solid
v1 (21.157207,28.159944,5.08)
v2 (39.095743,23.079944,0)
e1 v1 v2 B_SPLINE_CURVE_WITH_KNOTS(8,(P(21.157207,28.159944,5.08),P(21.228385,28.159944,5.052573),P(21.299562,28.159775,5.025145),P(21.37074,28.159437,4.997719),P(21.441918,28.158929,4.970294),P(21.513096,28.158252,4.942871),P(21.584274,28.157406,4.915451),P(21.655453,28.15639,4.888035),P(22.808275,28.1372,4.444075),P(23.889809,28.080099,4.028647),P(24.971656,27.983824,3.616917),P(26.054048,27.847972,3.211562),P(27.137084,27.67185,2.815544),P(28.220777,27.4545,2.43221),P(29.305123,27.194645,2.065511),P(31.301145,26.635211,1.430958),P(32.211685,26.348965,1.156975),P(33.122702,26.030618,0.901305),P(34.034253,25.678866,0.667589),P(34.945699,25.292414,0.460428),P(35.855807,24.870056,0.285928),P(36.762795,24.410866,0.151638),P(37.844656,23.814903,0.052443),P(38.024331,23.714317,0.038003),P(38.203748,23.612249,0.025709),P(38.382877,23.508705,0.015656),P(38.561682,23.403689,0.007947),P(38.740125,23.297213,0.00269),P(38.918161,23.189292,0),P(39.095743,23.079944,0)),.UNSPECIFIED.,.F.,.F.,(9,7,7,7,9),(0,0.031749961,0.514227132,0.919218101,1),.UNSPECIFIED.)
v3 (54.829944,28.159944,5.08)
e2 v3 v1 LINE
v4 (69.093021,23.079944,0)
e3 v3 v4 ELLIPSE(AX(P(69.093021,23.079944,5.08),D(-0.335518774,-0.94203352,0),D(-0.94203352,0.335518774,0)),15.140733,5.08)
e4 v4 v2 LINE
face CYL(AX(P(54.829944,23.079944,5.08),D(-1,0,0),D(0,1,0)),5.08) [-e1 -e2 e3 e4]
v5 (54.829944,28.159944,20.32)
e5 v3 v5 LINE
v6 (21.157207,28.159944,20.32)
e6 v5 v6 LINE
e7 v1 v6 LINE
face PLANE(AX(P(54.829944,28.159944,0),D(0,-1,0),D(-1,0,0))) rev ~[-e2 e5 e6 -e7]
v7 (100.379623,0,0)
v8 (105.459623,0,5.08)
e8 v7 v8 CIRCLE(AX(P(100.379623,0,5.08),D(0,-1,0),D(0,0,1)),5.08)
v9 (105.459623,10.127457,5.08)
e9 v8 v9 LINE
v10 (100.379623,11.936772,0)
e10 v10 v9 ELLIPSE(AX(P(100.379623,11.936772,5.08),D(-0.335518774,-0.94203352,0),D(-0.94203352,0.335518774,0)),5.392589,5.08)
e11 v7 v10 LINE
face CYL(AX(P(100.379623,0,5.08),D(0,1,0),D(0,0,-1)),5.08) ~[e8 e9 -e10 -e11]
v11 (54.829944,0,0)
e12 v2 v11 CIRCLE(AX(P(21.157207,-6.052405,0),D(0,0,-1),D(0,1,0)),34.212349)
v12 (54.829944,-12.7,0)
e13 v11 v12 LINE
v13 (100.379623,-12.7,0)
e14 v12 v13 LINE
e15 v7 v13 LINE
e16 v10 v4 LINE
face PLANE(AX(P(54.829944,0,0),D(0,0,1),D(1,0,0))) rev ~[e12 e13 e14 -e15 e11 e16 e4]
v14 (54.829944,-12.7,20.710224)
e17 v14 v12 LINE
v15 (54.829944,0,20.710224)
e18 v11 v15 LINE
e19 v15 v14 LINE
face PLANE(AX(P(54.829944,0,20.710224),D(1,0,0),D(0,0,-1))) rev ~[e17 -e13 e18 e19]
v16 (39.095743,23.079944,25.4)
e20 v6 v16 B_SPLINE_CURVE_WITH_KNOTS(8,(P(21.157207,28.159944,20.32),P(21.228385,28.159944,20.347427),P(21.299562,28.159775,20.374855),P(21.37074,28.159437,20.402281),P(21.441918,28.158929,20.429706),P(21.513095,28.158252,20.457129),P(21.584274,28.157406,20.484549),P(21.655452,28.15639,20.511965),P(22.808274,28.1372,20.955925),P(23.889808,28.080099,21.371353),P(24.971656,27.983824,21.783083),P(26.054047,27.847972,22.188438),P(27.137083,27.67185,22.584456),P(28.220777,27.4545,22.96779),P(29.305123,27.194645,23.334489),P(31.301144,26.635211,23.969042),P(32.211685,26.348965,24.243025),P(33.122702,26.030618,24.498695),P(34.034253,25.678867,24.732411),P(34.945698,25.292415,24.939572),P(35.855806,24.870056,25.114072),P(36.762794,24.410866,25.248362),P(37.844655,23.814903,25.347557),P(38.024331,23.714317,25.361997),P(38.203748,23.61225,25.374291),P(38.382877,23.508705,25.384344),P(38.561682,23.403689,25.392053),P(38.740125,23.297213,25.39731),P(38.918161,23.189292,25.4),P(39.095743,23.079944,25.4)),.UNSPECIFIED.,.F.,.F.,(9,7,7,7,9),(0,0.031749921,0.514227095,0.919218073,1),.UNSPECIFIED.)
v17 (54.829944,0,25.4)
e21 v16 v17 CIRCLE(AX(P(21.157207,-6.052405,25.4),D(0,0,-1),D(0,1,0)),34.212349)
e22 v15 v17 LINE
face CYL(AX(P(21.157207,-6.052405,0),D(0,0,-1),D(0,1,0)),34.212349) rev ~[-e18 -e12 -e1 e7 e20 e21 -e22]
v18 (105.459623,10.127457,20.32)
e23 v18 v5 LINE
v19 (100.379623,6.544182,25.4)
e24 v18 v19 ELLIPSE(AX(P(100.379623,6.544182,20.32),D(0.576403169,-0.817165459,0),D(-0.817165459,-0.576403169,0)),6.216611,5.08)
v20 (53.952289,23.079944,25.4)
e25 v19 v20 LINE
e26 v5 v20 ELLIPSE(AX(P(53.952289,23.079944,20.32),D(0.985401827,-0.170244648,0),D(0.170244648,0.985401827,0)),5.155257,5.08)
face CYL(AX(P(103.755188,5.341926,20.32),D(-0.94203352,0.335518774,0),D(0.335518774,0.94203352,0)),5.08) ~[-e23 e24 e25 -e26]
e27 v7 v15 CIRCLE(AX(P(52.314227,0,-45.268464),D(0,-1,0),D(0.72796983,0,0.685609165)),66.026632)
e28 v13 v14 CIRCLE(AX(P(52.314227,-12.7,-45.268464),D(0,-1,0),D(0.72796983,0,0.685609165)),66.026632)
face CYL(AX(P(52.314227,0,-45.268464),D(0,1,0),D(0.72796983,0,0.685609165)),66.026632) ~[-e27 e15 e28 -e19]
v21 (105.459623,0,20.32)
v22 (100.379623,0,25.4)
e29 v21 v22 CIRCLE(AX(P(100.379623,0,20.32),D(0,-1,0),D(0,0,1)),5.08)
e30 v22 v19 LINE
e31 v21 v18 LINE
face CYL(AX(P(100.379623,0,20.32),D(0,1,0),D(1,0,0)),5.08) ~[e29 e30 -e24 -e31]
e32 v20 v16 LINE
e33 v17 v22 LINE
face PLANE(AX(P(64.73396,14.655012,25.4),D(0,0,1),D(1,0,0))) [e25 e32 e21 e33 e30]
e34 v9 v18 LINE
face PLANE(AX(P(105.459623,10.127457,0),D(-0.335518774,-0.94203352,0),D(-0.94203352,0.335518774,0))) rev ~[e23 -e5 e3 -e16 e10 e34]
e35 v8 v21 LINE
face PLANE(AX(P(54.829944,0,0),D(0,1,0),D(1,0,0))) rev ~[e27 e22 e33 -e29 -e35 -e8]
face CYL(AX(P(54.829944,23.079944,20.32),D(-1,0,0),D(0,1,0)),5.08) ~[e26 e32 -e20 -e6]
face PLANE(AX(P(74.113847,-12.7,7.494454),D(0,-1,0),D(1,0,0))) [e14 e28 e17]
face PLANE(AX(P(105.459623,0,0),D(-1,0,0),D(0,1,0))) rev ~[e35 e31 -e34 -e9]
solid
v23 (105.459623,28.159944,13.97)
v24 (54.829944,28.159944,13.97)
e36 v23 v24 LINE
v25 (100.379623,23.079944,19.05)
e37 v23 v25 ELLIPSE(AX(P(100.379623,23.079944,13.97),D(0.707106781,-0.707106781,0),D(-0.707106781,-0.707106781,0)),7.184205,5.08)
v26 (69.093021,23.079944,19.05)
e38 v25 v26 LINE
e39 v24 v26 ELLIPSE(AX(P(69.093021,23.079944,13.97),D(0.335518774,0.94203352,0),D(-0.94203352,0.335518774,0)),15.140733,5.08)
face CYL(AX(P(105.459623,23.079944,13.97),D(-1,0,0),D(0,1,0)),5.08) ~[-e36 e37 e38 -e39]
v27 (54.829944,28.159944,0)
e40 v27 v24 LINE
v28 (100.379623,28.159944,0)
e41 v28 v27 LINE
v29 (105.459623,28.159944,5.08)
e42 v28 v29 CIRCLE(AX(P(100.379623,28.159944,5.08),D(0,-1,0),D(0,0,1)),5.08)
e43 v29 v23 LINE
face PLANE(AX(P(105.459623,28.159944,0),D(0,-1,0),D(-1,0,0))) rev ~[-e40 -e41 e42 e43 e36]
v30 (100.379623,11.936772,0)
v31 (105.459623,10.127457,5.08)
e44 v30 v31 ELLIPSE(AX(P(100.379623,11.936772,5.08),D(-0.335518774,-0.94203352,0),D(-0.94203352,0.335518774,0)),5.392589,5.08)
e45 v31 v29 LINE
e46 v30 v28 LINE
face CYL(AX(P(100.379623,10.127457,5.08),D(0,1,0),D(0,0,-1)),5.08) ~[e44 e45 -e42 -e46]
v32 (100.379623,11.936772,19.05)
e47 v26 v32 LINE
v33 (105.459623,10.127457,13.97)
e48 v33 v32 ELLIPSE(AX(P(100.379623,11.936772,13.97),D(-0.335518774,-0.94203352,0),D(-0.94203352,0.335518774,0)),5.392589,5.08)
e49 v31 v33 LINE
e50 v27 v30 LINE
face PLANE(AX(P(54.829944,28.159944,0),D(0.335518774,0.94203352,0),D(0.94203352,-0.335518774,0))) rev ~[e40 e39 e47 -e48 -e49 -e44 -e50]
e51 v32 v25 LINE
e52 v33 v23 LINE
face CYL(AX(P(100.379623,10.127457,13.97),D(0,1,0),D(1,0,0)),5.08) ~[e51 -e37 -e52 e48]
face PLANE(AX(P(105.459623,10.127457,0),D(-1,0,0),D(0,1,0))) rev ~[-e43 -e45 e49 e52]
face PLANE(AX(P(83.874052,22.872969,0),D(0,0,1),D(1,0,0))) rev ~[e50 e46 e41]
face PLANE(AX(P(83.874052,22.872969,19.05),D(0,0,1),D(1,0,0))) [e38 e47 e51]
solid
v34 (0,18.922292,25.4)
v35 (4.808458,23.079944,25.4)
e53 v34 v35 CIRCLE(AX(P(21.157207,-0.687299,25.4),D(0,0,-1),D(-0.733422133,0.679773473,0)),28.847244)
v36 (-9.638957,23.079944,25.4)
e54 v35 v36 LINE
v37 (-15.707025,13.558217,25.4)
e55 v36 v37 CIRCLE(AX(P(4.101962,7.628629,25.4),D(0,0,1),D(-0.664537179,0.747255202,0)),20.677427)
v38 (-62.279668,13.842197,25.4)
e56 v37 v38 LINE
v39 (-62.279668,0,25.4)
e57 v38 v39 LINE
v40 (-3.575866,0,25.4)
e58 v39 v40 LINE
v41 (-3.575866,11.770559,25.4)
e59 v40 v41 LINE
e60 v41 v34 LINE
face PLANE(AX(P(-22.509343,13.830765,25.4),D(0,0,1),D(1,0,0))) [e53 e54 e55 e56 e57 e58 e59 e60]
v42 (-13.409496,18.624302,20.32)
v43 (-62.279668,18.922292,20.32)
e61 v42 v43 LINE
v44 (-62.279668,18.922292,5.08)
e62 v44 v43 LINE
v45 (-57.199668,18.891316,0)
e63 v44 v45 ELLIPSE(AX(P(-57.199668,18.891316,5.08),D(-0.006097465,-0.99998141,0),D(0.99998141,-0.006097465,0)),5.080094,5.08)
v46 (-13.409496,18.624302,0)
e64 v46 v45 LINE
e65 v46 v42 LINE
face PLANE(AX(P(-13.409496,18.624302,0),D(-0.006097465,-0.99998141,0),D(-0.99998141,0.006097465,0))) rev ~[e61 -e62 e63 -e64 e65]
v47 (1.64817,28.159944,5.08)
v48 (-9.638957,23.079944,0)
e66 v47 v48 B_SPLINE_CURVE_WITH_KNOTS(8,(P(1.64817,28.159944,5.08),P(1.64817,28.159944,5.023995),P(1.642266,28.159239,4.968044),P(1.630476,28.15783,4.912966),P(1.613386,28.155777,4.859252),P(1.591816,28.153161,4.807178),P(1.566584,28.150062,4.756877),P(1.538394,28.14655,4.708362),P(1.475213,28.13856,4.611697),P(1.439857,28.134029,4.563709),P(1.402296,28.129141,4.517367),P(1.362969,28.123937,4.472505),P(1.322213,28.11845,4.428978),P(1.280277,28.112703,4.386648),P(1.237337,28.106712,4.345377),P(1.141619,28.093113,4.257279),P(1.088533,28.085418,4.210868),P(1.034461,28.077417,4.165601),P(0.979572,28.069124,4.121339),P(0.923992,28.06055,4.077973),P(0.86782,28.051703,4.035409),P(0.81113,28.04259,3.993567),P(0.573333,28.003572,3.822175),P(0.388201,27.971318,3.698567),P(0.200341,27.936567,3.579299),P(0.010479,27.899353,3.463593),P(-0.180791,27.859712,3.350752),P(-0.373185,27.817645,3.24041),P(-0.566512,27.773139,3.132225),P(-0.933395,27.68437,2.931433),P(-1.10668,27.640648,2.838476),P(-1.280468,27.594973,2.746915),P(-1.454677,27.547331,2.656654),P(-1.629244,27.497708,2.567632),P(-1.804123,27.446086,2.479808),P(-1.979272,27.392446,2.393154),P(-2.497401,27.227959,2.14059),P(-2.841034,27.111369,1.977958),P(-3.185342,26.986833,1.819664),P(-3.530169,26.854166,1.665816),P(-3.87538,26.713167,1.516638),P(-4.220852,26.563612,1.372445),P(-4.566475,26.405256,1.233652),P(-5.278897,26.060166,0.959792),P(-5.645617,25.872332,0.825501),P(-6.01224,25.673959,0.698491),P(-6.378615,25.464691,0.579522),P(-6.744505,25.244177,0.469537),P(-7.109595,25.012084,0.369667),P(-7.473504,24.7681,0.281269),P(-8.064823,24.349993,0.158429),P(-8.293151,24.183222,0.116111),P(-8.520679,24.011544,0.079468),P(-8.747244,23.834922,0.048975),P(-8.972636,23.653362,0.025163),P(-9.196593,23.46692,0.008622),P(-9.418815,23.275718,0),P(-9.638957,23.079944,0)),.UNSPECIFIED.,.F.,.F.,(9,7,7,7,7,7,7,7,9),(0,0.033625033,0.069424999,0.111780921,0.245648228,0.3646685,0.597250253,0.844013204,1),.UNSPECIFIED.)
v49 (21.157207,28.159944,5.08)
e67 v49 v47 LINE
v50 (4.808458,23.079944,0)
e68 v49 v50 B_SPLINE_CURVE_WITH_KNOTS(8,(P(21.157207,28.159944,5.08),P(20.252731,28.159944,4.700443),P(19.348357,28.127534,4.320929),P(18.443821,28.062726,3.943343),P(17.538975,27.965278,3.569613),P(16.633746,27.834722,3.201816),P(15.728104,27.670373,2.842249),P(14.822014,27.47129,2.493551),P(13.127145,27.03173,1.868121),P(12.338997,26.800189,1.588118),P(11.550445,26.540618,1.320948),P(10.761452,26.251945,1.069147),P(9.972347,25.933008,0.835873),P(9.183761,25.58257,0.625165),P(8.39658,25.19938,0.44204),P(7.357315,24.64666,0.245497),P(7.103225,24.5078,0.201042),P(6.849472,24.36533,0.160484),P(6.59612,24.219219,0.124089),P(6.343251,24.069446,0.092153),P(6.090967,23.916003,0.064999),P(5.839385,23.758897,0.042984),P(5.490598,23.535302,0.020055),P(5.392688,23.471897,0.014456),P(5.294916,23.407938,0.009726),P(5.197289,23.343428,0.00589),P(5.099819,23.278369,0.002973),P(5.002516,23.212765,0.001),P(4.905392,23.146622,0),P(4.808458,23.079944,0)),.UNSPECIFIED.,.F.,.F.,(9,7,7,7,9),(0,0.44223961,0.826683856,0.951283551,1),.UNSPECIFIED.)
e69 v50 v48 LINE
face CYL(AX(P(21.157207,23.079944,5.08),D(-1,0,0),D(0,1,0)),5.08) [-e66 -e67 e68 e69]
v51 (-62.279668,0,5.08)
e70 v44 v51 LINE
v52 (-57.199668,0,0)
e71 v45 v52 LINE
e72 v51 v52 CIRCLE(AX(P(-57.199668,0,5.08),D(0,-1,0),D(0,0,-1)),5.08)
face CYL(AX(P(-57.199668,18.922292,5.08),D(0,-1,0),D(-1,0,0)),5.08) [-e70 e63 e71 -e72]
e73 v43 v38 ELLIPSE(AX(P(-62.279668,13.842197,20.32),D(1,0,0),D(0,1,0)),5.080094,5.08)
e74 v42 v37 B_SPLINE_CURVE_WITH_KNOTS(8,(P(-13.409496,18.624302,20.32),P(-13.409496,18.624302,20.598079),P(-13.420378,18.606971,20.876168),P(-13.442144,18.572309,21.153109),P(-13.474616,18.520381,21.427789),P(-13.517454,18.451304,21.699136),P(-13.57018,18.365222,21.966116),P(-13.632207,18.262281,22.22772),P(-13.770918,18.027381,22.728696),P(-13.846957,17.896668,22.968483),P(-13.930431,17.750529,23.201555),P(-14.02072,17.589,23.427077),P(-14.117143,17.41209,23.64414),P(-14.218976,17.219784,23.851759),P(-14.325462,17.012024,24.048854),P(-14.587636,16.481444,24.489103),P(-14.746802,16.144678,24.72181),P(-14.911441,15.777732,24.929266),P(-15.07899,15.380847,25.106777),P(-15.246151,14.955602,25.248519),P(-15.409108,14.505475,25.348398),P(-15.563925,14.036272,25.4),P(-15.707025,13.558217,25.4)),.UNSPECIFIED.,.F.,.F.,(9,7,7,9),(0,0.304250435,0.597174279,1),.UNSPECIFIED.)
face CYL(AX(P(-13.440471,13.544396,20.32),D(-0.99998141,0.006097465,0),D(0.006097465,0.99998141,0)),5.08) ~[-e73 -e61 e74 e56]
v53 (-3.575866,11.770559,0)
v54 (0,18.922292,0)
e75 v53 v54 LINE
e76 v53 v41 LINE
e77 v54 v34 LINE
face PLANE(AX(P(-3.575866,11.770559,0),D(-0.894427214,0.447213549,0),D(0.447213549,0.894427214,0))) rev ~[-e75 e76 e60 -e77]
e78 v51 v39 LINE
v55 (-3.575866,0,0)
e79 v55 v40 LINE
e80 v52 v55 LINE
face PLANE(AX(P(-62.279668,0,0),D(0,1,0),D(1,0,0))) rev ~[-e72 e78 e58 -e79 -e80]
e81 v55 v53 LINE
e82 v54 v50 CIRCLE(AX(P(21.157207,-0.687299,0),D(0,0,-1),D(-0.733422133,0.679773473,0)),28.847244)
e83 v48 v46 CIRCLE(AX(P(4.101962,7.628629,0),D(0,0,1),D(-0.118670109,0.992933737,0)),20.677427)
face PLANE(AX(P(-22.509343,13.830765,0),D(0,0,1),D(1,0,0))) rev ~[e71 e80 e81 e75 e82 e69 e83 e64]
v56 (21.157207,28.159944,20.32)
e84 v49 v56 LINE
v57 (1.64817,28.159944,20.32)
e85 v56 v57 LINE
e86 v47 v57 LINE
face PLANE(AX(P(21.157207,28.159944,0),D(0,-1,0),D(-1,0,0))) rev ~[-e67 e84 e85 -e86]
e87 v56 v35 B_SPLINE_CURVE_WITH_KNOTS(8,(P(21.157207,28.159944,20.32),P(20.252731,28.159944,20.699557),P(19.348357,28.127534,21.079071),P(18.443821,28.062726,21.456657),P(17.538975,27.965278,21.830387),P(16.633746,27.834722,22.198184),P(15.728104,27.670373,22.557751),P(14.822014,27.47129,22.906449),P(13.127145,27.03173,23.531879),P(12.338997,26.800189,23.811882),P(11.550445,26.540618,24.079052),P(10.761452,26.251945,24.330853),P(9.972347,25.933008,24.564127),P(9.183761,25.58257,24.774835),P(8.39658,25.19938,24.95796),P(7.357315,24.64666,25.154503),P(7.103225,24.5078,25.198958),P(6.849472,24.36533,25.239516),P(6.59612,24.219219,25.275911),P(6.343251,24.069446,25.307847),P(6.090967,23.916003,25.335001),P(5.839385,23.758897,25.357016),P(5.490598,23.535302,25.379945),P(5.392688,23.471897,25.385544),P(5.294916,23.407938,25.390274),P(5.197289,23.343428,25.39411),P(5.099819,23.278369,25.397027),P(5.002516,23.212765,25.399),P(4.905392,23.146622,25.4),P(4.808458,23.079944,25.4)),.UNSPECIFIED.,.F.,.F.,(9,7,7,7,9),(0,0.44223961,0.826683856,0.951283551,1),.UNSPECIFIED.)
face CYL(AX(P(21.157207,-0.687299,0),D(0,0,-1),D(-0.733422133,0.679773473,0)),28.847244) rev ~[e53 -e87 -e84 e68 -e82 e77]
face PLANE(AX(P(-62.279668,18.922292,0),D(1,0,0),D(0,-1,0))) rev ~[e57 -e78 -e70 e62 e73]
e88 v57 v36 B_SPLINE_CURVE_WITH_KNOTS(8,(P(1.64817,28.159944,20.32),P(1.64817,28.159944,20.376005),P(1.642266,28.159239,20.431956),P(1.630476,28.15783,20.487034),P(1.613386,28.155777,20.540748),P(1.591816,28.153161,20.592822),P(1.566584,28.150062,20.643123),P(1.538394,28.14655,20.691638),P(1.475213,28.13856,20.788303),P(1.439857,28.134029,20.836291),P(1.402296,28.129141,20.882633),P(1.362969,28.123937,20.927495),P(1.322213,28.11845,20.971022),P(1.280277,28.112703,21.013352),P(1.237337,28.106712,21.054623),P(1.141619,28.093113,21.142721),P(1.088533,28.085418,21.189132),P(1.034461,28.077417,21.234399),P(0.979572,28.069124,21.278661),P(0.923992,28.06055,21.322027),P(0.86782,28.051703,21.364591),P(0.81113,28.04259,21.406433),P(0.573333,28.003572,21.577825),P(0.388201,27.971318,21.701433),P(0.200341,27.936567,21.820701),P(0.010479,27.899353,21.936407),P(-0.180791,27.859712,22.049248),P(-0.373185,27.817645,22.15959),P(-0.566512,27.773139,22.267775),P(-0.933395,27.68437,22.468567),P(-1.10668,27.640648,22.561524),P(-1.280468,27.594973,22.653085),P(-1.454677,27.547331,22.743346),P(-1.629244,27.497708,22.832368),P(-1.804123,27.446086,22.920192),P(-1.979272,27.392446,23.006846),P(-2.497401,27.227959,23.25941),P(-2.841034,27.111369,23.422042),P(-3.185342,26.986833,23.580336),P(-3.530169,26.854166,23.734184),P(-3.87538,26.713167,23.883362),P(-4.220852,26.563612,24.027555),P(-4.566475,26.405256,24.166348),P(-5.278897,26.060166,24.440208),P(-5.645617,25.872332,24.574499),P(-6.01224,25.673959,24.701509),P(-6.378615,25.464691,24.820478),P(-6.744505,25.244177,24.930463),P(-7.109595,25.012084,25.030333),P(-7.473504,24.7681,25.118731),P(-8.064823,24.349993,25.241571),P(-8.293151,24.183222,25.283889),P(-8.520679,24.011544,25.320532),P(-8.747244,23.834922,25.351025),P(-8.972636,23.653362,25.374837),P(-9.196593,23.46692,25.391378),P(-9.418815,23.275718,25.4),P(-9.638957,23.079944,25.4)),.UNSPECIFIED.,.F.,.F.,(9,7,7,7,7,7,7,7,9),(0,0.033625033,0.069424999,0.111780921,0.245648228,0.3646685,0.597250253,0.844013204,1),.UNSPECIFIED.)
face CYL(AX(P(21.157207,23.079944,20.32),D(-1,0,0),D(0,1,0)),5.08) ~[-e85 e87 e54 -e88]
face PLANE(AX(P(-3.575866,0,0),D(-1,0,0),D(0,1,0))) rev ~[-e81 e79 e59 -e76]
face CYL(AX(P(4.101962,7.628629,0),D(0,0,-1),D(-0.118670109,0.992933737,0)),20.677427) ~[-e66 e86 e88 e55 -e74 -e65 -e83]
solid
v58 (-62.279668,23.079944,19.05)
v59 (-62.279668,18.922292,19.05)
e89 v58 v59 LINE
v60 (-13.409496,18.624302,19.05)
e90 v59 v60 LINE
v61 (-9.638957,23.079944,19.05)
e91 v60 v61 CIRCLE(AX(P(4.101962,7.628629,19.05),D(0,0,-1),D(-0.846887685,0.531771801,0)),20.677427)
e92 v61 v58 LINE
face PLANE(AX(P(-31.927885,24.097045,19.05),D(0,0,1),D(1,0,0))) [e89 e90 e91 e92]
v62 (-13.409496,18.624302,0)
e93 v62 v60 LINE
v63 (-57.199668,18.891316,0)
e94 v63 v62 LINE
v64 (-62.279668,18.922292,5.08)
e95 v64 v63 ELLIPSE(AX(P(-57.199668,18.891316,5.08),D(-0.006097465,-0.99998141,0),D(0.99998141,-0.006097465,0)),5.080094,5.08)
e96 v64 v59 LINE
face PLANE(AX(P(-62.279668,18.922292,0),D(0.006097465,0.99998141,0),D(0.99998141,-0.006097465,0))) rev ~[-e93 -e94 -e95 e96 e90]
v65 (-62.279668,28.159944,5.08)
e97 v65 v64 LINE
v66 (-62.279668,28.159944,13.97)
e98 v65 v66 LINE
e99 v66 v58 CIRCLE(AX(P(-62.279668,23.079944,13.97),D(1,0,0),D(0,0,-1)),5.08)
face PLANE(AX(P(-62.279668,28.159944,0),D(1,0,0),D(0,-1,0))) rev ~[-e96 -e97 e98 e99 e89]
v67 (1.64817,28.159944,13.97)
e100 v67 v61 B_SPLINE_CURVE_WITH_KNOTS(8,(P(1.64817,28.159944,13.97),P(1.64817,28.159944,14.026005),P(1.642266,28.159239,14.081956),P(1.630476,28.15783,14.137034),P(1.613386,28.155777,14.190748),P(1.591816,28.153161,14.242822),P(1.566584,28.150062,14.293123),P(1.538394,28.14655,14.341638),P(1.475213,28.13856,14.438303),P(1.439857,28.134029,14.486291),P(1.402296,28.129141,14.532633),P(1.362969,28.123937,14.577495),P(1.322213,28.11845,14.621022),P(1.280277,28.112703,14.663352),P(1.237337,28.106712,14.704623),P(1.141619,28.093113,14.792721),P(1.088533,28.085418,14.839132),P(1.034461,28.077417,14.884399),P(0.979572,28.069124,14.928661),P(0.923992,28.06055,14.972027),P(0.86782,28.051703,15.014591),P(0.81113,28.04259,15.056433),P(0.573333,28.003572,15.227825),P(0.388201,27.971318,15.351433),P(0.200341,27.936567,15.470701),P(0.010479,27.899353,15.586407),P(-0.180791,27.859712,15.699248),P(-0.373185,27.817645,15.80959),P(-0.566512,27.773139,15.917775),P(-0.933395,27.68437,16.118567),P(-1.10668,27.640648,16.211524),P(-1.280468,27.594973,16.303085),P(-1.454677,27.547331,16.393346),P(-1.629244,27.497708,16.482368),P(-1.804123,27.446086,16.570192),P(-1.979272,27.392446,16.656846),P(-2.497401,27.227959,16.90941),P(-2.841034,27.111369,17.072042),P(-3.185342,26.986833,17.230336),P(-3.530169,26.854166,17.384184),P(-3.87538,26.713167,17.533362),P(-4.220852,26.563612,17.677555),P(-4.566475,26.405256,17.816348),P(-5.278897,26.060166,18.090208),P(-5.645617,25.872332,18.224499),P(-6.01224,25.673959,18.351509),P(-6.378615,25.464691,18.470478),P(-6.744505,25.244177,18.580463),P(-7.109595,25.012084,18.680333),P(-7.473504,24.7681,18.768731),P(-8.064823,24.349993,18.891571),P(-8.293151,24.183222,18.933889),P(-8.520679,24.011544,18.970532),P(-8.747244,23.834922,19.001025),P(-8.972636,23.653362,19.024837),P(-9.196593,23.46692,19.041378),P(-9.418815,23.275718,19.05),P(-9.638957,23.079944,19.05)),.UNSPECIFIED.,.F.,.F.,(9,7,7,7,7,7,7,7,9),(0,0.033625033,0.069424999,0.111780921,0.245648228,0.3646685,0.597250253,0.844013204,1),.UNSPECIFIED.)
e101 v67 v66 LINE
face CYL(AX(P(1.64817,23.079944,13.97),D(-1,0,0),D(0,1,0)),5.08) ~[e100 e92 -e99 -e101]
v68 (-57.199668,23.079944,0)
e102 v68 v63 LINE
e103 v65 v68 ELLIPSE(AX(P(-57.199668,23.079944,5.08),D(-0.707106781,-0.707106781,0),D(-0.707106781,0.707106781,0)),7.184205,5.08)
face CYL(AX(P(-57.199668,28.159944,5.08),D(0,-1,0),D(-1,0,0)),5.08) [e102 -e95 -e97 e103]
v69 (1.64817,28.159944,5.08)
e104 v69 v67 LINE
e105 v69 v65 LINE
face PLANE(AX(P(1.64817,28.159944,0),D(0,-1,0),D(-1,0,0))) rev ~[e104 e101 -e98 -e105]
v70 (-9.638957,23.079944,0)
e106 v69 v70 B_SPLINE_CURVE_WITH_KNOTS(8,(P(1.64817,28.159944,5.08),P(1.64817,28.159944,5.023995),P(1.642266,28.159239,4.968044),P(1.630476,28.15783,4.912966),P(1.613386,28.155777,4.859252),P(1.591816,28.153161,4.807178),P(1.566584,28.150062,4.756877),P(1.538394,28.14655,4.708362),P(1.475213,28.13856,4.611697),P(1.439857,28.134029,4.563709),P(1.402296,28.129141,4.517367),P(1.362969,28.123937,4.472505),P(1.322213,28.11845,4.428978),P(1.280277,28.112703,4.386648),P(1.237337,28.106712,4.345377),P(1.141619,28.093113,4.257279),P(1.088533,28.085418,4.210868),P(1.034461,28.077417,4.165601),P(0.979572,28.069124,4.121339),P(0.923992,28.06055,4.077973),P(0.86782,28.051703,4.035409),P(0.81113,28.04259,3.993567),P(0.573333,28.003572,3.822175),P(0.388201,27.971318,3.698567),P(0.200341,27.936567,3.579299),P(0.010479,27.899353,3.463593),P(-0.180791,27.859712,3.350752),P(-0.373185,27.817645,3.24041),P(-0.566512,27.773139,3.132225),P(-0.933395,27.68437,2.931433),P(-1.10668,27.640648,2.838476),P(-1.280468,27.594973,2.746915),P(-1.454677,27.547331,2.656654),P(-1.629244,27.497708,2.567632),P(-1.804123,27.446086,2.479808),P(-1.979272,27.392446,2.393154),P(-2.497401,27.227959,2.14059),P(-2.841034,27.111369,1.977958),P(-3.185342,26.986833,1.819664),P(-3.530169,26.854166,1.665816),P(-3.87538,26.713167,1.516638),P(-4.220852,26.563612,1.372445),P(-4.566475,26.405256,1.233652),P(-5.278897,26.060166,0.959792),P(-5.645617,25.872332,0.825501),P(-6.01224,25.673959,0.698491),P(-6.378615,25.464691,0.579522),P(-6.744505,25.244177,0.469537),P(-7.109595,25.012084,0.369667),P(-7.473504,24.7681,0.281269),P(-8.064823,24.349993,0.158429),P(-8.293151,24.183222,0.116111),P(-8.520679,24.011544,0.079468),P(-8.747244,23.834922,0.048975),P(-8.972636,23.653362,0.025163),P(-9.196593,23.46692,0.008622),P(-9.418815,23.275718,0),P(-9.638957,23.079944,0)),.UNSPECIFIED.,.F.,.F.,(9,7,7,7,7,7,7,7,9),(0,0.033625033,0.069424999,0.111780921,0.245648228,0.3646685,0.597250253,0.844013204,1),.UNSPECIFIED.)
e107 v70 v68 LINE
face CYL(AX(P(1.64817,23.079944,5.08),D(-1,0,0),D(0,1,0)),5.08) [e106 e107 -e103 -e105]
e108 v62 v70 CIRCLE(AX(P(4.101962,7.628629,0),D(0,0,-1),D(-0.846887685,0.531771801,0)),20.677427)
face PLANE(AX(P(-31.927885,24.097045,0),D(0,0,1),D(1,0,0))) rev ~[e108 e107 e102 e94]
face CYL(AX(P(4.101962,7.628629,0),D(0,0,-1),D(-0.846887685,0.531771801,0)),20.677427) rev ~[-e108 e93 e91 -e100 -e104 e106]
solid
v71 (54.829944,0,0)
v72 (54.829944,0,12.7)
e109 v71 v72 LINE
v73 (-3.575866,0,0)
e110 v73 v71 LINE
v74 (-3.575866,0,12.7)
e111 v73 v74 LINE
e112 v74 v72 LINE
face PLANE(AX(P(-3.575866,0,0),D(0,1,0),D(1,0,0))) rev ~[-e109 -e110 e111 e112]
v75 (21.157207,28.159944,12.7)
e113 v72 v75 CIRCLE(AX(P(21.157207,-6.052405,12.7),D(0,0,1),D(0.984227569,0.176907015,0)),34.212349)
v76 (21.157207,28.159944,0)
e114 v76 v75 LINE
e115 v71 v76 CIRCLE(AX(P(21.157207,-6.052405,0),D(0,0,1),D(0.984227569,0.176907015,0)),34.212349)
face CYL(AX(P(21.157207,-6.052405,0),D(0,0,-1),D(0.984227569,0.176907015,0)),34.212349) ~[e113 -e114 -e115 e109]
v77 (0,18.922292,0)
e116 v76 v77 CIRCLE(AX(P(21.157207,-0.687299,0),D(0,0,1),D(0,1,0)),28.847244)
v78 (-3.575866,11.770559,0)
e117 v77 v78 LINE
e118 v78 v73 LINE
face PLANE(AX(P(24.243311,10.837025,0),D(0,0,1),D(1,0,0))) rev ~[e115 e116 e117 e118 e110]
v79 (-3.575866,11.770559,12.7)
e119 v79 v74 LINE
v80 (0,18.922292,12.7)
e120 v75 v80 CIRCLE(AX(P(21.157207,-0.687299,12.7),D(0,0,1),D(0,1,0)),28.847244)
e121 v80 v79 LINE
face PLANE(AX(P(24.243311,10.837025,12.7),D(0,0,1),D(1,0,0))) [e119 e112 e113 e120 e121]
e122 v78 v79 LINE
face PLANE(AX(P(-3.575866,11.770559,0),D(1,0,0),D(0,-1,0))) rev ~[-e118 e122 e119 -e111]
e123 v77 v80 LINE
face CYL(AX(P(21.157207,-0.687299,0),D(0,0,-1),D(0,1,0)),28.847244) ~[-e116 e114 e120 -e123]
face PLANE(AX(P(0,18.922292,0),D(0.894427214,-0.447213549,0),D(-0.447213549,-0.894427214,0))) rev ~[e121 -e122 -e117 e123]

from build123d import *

# Parameters (mm, degrees)
F1_DEPTH = 25.4
F2_DEPTH = 19.05
F3_DEPTH = 12.7
F4_R     = 5.08
F4_2_R   = 5.08
F4_3_R   = 5.08
F4_4_R   = 5.08
F5_R     = 5.08
F5_2_R   = 5.08
F5_3_R   = 5.08
F5_4_R   = 5.08
F7_DEPTH = 12.7


with BuildPart() as f1:
    # F0 (on Top) → F1 (new body)
    with BuildSketch(Plane.XY):
        with BuildLine():
            Line((-62.2796677053, 18.9222916961), (-62.2796677053, 0))
            Line((-62.2796677053, 0), (-3.5758661106, 0))
            Line((-3.5758661106, 0), (-3.5758661106, 11.7705585435))
            Line((-3.5758661106, 11.7705585435), (0, 18.9222916961))
            ThreePointArc((0, 18.9222916961), (9.6142260587, 25.7498536747), (21.1572069675, 28.1599443406))
            Line((21.1572069675, 28.1599443406), (6.5557546914, 28.1599443406))
            Line((6.5557546914, 28.1599443406), (1.6481696245, 28.1599443406))
            ThreePointArc((1.6481696245, 28.1599443406), (-6.9608101144, 25.0977753778), (-13.409496285, 18.6243019998))
            Line((-13.409496285, 18.6243019998), (-62.2796677053, 18.9222916961))
        make_face()
    extrude(amount=F1_DEPTH)

    # F4#3
    f4_3_edges = [f1.edges().sort_by_distance(p)[0] for p in [
        (-37.844582, 18.773297, 25.4),
        (11.402688, 28.159944, 25.4),
    ]]
    fillet(f4_3_edges, radius=F4_3_R)

    # F5#3
    f5_3_edges = [f1.edges().sort_by_distance(p)[0] for p in [
        (11.402688, 28.159944, 0),
        (-62.279668, 9.461146, 0),
    ]]
    fillet(f5_3_edges, radius=F5_3_R)


with BuildPart() as f1b:
    # F0 (on Top) → F1, piece 2 (new body)
    with BuildSketch(Plane.XY):
        with BuildLine():
            ThreePointArc((21.1572069675, 28.1599443406), (43.1050751982, 20.1921357641), (54.8299439251, 0))
            Line((54.8299439251, 0), (105.4596230388, 0))
            Line((105.4596230388, 0), (105.4596230388, 10.1274566612))
            Line((105.4596230388, 10.1274566612), (54.8299439251, 28.1599443406))
            Line((54.8299439251, 28.1599443406), (21.1572069675, 28.1599443406))
        make_face()
    extrude(amount=F1_DEPTH)

    # F4
    f4_edges = [f1b.edges().sort_by_distance(p)[0] for p in [
        (80.144783, 19.143701, 25.4),
        (105.459623, 5.063728, 25.4),
        (37.993575, 28.159944, 25.4),
    ]]
    fillet(f4_edges, radius=F4_R)

    # F5
    f5_edges = [f1b.edges().sort_by_distance(p)[0] for p in [
        (105.459623, 5.063728, 0),
        (37.993575, 28.159944, 0),
    ]]
    fillet(f5_edges, radius=F5_R)

    # F6 (on face) → F7 (join)
    with BuildSketch(Plane.XZ):
        with BuildLine():
            Line((54.8299439251, 0), (100.3796230388, 0))
            ThreePointArc((100.3796230388, 0), (79.6426113996, 14.8370726692), (54.8299439251, 20.7102242857))
            Line((54.8299439251, 20.7102242857), (54.8299439251, 0))
        make_face()
    extrude(amount=F7_DEPTH)


with BuildPart() as f2:
    # F0 (on Top) → F2 (new body)
    with BuildSketch(Plane.XY):
        with BuildLine():
            Line((-62.2796677053, 28.1599443406), (-62.2796677053, 18.9222916961))
            Line((-62.2796677053, 18.9222916961), (-13.409496285, 18.6243019998))
            ThreePointArc((-13.409496285, 18.6243019998), (-6.9608101144, 25.0977753778), (1.6481696245, 28.1599443406))
            Line((1.6481696245, 28.1599443406), (-62.2796677053, 28.1599443406))
        make_face()
    extrude(amount=F2_DEPTH)

    # F4#4
    f4_4_edges = [f2.edges().sort_by_distance(p)[0] for p in [
        (-30.315749, 28.159944, 19.05),
    ]]
    fillet(f4_4_edges, radius=F4_4_R)

    # F5#4
    f5_4_edges = [f2.edges().sort_by_distance(p)[0] for p in [
        (-30.315749, 28.159944, 0),
        (-62.279668, 23.541118, 0),
    ]]
    fillet(f5_4_edges, radius=F5_4_R)


with BuildPart() as f2b:
    # F0 (on Top) → F2, piece 2 (new body)
    with BuildSketch(Plane.XY):
        Polygon((54.8299439251, 28.1599443406), (105.4596230388, 10.1274566612), (105.4596230388, 28.1599443406), align=None)
    extrude(amount=F2_DEPTH)

    # F4#2
    f4_2_edges = [f2b.edges().sort_by_distance(p)[0] for p in [
        (80.144783, 28.159944, 19.05),
        (105.459623, 19.143701, 19.05),
    ]]
    fillet(f4_2_edges, radius=F4_2_R)

    # F5#2
    f5_2_edges = [f2b.edges().sort_by_distance(p)[0] for p in [
        (105.459623, 19.143701, 0),
    ]]
    fillet(f5_2_edges, radius=F5_2_R)


with BuildPart() as f3:
    # F0 (on Top) → F3 (new body)
    with BuildSketch(Plane.XY):
        with BuildLine():
            Line((-3.5758661106, 11.7705585435), (-3.5758661106, 0))
            Line((-3.5758661106, 0), (54.8299439251, 0))
            ThreePointArc((54.8299439251, 0), (43.1050751982, 20.1921357641), (21.1572069675, 28.1599443406))
            ThreePointArc((21.1572069675, 28.1599443406), (9.6142260587, 25.7498536747), (0, 18.9222916961))
            Line((0, 18.9222916961), (-3.5758661106, 11.7705585435))
        make_face()
    extrude(amount=F3_DEPTH)


solid = Compound([f1.part, f1b.part, f2.part, f2b.part, f3.part])
